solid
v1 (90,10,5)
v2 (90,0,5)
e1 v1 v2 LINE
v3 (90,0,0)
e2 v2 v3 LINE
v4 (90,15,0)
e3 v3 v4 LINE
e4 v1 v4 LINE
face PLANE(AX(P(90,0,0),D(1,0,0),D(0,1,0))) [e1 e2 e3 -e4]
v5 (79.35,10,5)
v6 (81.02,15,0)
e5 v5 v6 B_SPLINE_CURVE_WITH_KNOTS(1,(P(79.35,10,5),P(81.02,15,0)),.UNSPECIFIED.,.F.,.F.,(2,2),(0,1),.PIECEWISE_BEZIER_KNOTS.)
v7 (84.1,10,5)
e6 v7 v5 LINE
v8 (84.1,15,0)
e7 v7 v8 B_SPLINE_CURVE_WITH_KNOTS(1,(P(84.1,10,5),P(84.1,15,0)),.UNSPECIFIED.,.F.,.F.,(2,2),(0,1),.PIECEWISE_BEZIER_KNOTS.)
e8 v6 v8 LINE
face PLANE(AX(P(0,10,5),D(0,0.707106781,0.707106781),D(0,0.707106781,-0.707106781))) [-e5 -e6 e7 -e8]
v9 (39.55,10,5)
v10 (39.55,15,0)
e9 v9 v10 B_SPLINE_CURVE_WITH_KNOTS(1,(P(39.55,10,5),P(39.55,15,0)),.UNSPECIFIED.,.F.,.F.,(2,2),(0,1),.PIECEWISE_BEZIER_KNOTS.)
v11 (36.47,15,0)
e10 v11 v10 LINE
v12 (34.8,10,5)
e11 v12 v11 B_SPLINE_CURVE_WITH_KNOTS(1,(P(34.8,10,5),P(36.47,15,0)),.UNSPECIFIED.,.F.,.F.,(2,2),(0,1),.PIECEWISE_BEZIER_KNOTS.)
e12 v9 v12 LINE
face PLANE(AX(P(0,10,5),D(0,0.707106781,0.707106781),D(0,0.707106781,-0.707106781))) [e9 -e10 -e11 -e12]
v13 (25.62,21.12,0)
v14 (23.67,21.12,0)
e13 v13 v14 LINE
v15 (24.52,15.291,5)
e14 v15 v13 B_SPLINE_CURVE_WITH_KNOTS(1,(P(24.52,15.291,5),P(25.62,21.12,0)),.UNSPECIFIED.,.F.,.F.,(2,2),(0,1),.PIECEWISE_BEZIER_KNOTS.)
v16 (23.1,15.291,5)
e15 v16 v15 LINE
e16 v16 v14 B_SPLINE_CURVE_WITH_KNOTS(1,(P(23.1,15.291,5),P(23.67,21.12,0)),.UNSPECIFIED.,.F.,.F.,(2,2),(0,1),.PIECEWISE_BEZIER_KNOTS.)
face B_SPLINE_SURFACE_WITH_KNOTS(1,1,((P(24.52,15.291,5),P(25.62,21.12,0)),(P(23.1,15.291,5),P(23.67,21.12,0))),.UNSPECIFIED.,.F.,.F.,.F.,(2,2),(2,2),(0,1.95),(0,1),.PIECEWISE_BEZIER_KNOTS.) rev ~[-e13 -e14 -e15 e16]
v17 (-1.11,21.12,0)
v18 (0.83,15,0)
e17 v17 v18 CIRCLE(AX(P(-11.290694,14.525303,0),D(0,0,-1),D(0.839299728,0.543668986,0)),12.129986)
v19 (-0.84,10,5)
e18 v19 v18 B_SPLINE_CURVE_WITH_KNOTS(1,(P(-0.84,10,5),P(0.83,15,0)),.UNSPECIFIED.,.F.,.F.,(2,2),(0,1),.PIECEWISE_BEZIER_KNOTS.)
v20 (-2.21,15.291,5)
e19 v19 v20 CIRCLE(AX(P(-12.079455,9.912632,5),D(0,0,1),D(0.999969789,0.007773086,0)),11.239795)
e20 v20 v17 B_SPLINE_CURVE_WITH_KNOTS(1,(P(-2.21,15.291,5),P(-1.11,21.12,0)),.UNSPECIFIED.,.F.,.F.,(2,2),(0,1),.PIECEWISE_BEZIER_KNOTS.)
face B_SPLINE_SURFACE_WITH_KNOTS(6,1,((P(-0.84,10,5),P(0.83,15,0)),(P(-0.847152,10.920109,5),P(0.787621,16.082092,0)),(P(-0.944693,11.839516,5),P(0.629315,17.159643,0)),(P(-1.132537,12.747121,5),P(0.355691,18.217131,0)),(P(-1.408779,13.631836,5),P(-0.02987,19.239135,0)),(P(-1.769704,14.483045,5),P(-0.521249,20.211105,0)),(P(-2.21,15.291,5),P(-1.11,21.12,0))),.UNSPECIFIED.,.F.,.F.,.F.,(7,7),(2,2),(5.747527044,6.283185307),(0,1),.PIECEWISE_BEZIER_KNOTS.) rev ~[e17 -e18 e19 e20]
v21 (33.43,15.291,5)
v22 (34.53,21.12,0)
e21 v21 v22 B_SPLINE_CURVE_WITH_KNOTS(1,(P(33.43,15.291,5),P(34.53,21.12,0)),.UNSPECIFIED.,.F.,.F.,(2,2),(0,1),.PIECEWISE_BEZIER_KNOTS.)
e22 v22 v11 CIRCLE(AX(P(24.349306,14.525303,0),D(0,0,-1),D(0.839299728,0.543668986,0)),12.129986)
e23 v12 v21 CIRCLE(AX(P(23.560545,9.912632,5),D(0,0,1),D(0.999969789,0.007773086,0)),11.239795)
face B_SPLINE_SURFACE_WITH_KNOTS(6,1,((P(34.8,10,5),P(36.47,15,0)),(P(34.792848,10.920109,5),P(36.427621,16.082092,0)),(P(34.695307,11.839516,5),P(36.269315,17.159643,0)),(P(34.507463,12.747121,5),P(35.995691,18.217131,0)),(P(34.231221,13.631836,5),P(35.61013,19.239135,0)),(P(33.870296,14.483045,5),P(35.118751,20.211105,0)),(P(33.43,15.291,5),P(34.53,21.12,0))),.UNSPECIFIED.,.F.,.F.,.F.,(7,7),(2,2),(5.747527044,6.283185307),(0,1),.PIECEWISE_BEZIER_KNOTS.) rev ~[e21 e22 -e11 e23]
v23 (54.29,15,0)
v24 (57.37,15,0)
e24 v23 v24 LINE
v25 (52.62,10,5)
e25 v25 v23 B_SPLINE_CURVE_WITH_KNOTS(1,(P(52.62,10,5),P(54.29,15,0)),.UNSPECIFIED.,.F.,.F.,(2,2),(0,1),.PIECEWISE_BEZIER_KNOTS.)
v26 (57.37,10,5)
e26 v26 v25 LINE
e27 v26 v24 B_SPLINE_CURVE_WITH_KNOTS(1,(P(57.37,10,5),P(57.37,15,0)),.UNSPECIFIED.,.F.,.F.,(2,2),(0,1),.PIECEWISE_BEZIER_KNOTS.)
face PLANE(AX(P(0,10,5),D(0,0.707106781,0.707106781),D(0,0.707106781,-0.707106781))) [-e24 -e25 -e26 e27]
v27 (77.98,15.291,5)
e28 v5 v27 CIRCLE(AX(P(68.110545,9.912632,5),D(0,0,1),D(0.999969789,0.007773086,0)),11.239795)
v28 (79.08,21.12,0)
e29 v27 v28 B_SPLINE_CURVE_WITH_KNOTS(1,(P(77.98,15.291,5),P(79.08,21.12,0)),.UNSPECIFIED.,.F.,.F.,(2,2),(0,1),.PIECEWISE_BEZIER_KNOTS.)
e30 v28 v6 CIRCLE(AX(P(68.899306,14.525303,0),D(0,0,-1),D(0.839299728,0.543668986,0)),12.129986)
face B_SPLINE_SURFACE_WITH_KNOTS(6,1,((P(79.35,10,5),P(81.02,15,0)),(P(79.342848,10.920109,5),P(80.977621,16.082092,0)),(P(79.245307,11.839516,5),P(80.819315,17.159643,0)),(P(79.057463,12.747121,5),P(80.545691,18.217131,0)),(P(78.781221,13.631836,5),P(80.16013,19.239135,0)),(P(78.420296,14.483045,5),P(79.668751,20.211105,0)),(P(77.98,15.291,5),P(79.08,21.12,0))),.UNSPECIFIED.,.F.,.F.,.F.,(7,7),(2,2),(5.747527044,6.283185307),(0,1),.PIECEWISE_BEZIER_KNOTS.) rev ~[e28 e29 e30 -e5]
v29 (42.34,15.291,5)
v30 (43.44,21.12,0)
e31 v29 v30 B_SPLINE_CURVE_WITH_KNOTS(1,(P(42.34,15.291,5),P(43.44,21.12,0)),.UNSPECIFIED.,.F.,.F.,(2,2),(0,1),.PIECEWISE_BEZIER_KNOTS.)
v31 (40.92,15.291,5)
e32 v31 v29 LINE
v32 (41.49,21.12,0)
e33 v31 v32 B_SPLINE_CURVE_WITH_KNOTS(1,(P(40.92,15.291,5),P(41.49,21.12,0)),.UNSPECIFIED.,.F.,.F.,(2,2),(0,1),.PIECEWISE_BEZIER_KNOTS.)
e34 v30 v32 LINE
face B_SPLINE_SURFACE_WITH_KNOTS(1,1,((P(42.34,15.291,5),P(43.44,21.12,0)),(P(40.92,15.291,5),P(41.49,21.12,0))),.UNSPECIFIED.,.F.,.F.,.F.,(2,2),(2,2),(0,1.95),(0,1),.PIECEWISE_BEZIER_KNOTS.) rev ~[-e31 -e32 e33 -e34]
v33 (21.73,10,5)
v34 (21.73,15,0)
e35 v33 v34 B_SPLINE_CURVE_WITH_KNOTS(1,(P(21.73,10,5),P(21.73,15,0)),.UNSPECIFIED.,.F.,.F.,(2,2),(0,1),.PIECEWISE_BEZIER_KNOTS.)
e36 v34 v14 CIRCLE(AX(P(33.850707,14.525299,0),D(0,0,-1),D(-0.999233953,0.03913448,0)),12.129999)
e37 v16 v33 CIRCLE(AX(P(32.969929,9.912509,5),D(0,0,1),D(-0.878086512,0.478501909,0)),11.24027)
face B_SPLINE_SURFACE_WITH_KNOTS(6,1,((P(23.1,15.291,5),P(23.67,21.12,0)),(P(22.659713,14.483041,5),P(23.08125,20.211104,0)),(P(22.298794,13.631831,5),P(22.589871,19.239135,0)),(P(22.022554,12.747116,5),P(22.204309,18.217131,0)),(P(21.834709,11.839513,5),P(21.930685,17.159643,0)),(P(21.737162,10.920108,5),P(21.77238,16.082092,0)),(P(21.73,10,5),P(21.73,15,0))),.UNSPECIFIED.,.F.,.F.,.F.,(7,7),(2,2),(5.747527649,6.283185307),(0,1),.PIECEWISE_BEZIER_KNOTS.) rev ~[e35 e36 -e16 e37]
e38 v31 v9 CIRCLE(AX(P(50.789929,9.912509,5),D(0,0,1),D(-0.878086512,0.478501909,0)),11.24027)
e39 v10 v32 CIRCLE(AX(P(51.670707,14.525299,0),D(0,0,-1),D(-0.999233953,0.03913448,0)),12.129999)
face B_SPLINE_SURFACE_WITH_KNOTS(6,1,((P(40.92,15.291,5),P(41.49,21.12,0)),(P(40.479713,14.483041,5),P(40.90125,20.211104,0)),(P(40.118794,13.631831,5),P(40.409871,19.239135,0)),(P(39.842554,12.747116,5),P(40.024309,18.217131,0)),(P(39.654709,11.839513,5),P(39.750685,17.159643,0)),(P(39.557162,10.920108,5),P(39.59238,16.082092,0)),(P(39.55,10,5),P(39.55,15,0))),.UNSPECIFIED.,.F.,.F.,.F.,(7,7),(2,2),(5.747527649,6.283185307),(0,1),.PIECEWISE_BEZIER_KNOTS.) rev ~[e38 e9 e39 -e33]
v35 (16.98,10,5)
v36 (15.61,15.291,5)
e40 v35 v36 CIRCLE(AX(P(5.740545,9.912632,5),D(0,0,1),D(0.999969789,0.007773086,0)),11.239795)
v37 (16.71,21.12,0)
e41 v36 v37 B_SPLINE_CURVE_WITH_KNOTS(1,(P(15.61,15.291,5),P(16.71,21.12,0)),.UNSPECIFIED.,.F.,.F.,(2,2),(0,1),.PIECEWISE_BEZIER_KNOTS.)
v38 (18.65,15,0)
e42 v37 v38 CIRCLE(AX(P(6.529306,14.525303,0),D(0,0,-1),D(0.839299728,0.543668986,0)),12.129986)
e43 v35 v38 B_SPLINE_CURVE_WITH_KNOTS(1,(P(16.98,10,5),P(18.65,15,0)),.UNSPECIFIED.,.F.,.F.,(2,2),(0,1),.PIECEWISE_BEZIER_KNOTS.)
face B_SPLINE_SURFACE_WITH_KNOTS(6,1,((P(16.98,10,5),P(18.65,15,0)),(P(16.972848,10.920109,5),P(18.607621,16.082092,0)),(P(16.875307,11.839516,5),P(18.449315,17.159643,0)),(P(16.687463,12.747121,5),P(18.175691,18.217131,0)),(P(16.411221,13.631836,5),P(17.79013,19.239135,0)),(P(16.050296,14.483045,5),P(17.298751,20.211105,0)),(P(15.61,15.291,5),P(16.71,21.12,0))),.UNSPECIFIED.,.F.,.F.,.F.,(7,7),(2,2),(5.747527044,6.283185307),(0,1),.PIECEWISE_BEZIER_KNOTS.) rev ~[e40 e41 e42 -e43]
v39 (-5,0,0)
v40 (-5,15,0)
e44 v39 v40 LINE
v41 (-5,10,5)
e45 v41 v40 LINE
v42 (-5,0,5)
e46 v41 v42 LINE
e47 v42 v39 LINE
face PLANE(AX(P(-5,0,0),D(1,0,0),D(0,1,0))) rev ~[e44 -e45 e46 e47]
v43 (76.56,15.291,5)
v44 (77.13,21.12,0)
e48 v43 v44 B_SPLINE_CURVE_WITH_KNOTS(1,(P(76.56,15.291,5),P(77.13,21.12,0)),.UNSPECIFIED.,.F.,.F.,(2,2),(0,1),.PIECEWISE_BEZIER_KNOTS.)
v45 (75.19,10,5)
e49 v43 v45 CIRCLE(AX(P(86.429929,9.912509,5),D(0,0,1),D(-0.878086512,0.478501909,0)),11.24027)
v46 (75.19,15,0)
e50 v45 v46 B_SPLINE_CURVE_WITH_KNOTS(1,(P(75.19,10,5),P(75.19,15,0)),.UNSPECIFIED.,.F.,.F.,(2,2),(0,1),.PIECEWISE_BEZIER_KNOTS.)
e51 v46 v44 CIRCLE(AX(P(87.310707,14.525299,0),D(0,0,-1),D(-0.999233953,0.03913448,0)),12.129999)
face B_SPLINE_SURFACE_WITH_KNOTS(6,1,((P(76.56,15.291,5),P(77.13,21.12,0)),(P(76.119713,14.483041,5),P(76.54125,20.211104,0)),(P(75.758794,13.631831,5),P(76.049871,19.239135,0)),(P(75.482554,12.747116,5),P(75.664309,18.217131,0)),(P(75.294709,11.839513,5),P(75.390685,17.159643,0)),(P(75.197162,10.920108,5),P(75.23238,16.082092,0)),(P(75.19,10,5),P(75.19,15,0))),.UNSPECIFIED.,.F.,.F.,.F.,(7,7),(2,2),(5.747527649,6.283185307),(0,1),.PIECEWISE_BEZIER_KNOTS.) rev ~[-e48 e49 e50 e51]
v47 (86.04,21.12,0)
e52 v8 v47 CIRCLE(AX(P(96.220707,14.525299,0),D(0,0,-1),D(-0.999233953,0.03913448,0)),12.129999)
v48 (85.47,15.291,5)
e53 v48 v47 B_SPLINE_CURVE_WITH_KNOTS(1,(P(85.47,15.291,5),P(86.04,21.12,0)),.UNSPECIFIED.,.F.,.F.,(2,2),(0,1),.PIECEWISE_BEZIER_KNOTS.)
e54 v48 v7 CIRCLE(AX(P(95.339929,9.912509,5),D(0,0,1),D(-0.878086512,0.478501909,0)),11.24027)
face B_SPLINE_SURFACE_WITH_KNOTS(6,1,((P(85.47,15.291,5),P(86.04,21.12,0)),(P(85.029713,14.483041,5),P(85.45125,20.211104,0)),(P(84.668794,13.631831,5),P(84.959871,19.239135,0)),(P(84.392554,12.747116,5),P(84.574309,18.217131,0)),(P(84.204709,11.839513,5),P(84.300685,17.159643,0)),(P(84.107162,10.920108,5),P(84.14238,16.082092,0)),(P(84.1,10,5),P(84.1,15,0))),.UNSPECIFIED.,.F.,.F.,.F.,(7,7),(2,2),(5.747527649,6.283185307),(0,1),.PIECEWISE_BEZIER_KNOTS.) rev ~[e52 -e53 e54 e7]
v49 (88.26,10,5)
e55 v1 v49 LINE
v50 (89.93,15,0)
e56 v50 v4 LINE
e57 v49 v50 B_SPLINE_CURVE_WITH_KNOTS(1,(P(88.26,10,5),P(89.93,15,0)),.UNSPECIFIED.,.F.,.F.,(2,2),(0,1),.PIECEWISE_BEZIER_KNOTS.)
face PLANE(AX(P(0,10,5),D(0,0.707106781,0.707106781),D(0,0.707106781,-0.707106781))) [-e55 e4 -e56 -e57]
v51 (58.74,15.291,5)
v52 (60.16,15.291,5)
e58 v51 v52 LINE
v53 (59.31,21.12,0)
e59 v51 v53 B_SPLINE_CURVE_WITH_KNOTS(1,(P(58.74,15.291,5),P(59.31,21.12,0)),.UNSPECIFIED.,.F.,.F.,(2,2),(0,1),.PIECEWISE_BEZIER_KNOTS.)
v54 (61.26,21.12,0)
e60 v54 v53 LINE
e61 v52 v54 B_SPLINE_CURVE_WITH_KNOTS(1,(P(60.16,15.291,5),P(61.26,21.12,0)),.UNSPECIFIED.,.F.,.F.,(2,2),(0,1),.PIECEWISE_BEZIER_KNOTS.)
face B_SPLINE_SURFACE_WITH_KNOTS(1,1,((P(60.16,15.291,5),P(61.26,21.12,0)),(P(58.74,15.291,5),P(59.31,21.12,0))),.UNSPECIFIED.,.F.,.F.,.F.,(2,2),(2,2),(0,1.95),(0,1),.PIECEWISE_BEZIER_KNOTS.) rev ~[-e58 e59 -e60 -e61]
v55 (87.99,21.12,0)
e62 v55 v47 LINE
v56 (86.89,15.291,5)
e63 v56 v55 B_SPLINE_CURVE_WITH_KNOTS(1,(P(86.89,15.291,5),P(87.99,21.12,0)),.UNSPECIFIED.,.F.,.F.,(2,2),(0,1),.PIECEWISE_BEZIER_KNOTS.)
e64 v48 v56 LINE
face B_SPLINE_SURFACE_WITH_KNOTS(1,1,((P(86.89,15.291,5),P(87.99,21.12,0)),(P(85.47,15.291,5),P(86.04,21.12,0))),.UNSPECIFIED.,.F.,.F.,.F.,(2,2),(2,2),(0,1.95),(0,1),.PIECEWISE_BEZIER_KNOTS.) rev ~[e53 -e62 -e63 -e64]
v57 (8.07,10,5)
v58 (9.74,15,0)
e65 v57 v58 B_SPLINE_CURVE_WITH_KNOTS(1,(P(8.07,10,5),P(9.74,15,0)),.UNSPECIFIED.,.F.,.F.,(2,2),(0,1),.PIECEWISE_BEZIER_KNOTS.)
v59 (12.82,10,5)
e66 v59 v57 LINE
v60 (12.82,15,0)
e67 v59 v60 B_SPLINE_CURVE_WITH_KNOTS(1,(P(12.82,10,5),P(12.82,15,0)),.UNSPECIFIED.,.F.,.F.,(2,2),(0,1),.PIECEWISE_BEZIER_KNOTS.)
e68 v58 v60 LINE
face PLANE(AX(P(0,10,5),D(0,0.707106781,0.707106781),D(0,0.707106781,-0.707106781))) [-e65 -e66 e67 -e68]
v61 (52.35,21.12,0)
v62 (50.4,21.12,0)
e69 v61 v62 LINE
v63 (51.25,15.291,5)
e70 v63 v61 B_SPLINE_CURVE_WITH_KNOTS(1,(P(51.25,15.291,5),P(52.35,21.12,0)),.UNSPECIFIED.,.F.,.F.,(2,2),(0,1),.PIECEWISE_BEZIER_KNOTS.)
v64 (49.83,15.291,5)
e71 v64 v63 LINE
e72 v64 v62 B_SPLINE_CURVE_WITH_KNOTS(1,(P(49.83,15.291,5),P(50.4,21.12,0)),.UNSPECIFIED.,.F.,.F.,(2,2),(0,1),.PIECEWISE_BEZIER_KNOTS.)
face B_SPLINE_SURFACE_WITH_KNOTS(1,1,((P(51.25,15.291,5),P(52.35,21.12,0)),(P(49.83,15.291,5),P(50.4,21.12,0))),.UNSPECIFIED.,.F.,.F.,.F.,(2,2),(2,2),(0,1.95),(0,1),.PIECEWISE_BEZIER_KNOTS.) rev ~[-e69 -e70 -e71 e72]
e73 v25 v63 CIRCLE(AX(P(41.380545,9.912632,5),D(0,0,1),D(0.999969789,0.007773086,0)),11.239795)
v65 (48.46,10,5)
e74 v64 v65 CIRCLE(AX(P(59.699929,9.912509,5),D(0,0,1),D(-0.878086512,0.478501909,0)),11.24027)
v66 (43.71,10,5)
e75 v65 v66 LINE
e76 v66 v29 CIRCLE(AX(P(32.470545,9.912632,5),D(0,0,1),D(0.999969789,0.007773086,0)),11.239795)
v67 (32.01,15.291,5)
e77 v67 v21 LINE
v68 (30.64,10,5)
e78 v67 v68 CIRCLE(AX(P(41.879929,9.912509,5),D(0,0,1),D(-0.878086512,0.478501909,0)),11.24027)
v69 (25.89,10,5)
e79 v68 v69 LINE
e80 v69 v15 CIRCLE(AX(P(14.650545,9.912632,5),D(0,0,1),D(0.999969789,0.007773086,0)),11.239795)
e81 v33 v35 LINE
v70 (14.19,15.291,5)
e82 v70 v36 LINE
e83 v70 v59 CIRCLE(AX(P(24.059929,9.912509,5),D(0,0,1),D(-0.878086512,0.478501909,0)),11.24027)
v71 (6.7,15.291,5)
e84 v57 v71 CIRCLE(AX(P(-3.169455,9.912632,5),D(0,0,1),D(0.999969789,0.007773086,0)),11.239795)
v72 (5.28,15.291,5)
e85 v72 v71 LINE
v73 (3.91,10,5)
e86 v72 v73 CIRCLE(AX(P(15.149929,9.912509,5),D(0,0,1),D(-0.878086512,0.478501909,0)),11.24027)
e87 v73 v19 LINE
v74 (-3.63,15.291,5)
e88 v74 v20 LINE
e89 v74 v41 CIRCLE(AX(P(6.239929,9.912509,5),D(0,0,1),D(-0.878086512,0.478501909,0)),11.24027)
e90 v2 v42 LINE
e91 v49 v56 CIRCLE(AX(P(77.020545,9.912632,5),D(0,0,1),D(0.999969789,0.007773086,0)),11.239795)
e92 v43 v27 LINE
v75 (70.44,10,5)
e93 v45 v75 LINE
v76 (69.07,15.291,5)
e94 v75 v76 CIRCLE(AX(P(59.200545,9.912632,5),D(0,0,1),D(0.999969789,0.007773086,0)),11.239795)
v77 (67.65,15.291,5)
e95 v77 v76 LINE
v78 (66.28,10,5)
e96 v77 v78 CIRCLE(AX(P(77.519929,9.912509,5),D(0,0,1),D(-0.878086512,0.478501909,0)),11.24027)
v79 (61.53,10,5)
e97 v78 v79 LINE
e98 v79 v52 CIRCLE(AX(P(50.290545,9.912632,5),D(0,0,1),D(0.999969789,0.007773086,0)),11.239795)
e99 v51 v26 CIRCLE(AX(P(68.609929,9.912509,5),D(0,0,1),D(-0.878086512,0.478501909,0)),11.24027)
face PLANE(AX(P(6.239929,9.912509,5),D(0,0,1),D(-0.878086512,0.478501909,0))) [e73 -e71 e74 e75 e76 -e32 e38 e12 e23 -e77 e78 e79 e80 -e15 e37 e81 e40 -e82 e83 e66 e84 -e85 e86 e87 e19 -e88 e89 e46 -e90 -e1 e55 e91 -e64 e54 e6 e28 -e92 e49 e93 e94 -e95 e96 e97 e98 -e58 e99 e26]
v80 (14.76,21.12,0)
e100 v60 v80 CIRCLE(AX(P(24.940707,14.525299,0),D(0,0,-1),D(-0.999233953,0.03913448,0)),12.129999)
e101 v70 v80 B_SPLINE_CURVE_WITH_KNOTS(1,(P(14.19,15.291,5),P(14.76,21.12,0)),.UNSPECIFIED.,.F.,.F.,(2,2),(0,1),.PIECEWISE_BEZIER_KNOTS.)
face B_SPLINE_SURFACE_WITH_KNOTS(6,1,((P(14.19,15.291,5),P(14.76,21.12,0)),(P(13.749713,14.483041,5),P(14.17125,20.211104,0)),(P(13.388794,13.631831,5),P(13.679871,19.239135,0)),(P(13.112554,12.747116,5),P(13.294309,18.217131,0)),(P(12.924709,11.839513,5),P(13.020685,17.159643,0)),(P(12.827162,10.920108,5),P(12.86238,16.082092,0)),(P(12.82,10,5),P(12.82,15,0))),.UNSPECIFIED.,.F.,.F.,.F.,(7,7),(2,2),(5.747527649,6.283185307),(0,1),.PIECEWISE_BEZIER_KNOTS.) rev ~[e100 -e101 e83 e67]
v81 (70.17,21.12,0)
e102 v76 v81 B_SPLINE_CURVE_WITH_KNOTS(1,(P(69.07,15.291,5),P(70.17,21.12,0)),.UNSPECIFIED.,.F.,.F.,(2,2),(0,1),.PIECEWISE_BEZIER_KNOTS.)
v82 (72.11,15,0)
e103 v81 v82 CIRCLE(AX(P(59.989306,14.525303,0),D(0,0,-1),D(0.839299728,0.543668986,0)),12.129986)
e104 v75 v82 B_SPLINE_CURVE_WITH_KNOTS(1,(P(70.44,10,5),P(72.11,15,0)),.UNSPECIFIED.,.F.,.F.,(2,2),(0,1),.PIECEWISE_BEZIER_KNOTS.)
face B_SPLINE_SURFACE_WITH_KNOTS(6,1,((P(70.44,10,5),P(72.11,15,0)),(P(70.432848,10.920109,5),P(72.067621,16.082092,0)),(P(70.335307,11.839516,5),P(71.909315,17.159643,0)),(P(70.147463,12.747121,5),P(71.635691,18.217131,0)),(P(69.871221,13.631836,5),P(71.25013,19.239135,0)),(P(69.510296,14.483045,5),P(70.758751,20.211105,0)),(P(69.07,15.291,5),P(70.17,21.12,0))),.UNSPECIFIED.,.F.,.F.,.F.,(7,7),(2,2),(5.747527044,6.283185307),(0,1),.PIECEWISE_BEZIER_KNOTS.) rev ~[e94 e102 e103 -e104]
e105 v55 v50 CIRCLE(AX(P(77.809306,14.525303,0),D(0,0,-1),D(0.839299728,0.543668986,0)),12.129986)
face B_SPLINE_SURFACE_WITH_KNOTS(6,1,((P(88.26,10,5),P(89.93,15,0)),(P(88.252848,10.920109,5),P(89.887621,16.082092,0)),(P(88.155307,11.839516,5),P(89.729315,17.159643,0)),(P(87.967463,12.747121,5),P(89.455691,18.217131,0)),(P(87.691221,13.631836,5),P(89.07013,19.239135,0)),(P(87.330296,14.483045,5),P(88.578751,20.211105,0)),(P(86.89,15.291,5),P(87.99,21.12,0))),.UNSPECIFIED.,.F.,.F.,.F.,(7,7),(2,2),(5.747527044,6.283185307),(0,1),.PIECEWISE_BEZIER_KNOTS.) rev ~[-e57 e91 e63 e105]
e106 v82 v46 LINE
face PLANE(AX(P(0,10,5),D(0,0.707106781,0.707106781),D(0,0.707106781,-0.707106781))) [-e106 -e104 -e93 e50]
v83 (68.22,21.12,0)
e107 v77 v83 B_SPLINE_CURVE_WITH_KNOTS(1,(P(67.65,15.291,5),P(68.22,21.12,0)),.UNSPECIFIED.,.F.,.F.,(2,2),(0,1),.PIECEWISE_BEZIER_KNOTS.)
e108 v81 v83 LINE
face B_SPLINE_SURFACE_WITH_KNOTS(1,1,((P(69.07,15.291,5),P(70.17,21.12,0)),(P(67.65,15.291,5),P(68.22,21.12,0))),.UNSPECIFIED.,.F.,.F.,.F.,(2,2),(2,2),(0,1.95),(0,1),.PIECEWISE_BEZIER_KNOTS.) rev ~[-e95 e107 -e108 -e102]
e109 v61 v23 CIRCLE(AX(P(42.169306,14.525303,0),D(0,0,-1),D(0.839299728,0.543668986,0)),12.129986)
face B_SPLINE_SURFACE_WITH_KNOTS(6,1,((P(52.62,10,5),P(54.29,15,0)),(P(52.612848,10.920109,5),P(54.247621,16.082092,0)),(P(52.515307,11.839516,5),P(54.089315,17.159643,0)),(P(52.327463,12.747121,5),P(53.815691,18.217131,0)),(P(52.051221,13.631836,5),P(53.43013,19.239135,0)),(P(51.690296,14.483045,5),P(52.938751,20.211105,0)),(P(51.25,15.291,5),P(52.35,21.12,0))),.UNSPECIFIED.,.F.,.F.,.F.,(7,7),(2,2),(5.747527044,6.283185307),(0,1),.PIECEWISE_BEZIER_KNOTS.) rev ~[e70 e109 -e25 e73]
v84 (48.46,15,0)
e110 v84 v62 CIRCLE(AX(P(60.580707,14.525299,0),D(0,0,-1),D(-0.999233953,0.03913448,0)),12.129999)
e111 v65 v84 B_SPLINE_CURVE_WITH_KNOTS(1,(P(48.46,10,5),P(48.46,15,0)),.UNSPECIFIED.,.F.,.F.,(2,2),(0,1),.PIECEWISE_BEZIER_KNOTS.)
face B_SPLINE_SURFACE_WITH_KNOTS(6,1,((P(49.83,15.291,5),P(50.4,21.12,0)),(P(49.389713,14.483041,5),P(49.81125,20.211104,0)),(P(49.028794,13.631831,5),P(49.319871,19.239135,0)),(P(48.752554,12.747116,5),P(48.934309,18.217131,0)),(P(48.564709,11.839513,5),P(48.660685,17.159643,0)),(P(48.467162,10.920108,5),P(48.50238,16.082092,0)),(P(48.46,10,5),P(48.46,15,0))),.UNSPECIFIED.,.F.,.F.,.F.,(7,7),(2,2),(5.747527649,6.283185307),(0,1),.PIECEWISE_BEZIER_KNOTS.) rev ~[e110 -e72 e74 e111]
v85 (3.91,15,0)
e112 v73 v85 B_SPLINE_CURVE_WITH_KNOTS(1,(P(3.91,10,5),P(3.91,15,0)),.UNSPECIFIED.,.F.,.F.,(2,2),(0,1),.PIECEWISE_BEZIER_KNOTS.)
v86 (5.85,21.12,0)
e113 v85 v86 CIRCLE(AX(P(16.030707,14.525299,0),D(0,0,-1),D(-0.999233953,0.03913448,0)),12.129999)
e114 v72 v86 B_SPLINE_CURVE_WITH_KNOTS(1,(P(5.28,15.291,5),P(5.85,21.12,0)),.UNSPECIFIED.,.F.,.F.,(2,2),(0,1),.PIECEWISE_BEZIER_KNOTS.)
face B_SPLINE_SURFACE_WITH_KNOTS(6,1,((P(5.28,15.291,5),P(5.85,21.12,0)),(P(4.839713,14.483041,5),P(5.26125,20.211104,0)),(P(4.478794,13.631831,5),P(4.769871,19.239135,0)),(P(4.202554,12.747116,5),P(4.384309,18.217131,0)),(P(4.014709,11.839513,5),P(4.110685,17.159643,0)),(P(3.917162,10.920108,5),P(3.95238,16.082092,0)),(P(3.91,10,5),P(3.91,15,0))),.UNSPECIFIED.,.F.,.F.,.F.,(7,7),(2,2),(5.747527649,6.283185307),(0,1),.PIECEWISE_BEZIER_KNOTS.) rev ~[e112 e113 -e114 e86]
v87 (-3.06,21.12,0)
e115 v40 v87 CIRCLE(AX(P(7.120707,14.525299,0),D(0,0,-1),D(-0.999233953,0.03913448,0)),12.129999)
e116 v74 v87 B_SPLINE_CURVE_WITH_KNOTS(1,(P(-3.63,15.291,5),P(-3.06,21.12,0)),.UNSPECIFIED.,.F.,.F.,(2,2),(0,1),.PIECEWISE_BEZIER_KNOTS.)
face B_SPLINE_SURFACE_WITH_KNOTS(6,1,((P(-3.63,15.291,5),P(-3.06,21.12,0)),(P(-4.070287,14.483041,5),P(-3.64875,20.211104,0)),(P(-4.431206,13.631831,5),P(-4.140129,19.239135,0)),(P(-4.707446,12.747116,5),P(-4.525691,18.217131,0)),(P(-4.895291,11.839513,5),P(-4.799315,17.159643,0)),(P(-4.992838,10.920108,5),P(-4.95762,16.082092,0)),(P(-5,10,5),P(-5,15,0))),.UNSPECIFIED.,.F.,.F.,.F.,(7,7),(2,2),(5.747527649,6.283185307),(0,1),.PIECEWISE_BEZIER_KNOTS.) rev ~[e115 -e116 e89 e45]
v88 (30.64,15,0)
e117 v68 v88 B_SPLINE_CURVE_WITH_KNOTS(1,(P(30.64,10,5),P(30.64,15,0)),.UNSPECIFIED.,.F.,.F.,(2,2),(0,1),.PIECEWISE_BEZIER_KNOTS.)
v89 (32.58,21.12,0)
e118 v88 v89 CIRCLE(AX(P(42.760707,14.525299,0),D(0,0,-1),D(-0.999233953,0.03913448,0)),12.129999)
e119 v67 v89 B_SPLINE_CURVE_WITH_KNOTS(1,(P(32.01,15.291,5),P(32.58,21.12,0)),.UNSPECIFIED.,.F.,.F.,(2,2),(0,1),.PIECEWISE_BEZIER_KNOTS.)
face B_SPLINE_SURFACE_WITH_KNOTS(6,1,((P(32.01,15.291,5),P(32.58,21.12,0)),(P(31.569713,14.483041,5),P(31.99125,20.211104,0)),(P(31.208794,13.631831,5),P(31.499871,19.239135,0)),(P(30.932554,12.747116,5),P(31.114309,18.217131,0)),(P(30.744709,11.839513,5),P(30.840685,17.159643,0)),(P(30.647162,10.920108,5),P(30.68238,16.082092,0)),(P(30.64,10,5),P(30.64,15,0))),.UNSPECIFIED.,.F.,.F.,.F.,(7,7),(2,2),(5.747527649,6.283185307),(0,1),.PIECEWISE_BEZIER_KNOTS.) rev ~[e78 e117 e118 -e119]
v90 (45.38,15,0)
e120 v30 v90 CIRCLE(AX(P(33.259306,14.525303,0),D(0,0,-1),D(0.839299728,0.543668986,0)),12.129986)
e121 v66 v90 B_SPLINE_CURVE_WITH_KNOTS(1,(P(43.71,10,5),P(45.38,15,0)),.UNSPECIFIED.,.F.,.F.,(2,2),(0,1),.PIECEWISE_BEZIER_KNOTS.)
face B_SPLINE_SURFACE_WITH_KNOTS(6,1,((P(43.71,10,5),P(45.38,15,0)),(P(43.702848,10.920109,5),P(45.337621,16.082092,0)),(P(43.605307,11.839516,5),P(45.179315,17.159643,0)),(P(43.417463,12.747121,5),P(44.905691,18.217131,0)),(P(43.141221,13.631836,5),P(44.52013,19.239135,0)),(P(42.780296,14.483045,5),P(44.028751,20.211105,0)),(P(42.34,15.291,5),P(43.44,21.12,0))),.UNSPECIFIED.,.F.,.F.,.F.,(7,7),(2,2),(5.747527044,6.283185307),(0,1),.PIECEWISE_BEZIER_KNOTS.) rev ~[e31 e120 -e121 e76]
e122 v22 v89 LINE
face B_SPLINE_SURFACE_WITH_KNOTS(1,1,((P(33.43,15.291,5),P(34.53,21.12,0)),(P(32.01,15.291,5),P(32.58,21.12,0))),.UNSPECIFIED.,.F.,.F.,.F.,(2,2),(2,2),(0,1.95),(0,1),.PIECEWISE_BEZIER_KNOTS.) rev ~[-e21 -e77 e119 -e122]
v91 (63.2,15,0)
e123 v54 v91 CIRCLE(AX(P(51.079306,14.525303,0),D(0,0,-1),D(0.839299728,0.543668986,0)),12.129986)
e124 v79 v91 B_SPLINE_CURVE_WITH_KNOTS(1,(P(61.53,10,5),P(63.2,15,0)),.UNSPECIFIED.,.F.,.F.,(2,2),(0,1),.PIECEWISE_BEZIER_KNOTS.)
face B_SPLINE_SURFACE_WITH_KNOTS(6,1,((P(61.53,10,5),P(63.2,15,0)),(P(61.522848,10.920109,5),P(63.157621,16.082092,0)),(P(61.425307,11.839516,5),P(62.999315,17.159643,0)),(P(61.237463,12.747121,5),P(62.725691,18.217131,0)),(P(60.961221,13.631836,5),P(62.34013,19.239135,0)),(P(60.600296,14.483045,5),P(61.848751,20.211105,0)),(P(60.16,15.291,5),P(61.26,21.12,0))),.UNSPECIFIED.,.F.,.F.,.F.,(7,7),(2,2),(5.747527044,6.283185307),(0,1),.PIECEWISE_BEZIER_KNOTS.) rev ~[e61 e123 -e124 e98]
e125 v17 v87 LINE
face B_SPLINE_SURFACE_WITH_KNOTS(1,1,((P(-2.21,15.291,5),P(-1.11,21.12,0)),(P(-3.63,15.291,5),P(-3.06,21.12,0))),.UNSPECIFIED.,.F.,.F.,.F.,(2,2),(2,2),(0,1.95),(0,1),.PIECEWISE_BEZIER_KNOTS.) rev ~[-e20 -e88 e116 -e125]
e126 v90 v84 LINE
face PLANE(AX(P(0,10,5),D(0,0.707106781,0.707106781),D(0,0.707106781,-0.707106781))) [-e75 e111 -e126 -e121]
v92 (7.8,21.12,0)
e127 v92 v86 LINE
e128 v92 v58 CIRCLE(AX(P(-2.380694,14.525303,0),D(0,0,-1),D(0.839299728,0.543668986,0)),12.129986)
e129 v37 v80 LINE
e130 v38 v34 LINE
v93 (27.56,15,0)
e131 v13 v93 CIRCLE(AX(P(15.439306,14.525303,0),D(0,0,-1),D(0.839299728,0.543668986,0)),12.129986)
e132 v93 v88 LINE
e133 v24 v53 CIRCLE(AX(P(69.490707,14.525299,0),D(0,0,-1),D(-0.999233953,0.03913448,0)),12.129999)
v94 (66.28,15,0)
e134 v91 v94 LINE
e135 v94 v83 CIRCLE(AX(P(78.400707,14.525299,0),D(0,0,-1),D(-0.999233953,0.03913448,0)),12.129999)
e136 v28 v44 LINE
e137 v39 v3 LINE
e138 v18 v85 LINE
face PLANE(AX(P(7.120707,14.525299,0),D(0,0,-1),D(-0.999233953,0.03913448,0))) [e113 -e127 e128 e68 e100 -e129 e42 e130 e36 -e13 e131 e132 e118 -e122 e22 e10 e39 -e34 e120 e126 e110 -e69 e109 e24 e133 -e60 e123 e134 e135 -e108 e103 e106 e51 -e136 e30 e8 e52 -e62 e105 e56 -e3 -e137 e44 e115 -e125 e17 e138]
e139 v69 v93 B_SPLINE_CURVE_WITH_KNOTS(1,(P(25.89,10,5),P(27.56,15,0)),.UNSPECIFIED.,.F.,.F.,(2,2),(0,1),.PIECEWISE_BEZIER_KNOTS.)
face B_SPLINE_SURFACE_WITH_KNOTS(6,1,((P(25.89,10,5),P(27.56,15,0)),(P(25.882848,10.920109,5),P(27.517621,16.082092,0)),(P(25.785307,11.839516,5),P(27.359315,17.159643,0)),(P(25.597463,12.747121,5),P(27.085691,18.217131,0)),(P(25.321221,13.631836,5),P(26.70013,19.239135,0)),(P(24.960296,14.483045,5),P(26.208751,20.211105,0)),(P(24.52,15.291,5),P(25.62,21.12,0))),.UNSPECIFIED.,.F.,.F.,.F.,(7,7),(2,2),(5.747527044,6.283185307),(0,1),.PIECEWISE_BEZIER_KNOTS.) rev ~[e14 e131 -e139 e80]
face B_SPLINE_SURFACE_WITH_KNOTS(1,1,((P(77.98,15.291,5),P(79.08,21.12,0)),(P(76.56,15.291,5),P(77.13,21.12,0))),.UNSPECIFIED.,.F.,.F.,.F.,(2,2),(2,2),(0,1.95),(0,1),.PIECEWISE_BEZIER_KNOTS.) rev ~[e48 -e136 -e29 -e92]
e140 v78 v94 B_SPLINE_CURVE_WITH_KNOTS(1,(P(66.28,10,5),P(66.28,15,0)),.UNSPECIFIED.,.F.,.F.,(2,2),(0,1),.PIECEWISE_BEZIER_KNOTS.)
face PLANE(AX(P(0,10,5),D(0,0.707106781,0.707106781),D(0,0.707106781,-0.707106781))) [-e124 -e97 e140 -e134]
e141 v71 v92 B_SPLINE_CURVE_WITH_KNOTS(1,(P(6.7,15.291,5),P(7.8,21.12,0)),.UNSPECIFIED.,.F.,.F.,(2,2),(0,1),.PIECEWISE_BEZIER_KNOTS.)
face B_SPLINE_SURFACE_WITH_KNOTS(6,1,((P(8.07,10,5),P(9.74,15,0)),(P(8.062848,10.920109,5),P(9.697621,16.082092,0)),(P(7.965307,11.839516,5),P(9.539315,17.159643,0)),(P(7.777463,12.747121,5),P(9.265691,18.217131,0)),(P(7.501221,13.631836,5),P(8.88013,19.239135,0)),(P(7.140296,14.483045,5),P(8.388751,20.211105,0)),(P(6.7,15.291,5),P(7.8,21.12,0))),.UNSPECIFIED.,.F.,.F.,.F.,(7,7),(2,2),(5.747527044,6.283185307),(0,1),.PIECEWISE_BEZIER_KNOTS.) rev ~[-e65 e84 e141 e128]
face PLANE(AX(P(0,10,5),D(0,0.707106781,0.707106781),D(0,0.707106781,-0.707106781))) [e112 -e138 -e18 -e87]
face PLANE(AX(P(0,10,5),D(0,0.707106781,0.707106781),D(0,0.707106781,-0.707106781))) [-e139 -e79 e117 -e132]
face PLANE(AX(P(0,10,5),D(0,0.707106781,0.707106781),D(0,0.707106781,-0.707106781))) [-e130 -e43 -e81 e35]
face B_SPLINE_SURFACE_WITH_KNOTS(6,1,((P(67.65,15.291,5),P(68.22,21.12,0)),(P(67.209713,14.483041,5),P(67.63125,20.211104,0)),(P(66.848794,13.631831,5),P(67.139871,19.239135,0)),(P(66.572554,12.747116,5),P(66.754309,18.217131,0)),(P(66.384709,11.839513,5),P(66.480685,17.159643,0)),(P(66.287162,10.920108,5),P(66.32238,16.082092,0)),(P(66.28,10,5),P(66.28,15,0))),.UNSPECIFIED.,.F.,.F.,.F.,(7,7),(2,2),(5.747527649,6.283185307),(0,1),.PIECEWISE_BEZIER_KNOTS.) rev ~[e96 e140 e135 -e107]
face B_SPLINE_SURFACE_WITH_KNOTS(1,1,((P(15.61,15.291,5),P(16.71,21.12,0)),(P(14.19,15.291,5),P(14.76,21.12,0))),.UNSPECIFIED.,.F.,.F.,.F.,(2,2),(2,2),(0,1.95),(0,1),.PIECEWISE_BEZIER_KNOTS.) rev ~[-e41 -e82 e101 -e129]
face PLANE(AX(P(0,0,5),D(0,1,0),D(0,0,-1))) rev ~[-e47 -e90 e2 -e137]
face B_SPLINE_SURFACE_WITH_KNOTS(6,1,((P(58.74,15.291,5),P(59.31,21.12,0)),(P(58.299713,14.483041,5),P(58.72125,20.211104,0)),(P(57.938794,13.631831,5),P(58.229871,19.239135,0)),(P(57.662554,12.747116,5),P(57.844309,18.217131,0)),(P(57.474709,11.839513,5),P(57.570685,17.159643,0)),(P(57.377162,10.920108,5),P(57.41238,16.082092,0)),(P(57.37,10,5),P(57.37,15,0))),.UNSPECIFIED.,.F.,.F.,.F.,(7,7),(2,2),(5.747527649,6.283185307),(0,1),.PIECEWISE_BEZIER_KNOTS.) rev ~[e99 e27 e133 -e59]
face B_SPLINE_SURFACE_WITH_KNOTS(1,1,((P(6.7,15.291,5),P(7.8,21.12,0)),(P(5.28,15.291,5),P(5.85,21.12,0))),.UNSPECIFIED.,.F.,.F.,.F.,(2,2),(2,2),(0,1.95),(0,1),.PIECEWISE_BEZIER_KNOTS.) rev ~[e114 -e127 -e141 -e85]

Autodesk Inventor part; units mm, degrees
ref_plane "YZ Plane" through (0, 0, 0) normal (1, 0, 0) x (0, 1, 0)
ref_plane "XZ Plane" through (0, 0, 0) normal (0, 1, 0) x (-1, 0, 0)
ref_plane "XY Plane" through (0, 0, 0) normal (0, 0, 1) x (1, 0, 0)
sketch "Sketch1" plane through (0, 0, 0) normal (1, 0, 0) x (0, 1, 0)
  line L0 (0, 0) -> (15, 0)
  line L1 (15, 0) -> (15, 5)
  line L2 (15, 5) -> (0, 5)
  line L3 (0, 5) -> (0, 0)
  line L4 (10, 5) -> (15, 0)
  dimension "d0" = 15
  dimension "d1" = 5
  dimension "d2" = 5
extrude "Extrusion1" add sketch "Sketch1" along normal blind 90 and the other way blind 5 contours L3 L2 L4 L0
sketch "Sketch2" plane through (-5, 0, 5) normal (0, 0, 1) x (1, 0, 0)
  arc A0 (0, 10) -> (0, -10) centre (0, 0) ccw construction
  arc A1 (-9.7813, 2.08) -> (-9.7813, -2.08) centre (0, 0) ccw construction
  arc A2 (-15.2728, 0.745) -> (-15.2761, -0.675) centre (0, 0) ccw construction
  arc A3 (-15.2761, -0.675) -> (-9.7813, -2.08) centre (-9.8343, 9.1599) ccw construction
  arc A4 (-9.7813, 2.08) -> (-15.2728, 0.745) centre (-9.9572, -9.1586) ccw construction
  line L0 (0, 10) -> (4.16, 10)
  line L1 (0, 10) -> (95, 10) projected
  line L2 (1.37, 15.291) -> (2.79, 15.291)
  arc A5 (1.37, 15.291) -> (0, 10) centre (11.2397, 9.9126) ccw
  arc A6 (4.16, 10) -> (2.79, 15.291) centre (-7.0797, 9.9126) ccw
  point P0 (5, 0)
  point P1 (2.08, 10)
  dimension "d7" = 4.16
  dimension "d8" = 2.08
  dimension "d9" = 0.745
  dimension "d10" = 1.42
  dimension "d12" = 11.24
  dimension "d13" = 11.24
  dimension "d14" = 5.291
  dimension "d15" = 4.16
  dimension "d16" = 4.16
  dimension "d17" = 1.42
  dimension "d18" = 0.71
  dimension "d19" = 5.291
  dimension "d20" = 11.24
  dimension "d21" = 11.24
sketch "Sketch3" plane through (90, 15, 0) normal (0, 0, -1) x (-1, 0, 0)
  arc A0 (0, 1.075) -> (0, -1.075) centre (0, 0) ccw
  arc A1 (-14.714, 2.915) -> (-14.714, -2.915) centre (0, 0) ccw
  arc A2 (-21.0975, 0.975) -> (-21.0975, -0.975) centre (0, 0) ccw
  arc A3 (-21.0975, -0.975) -> (-14.714, -2.915) centre (-14.5146, 9.2134) ccw
  arc A4 (-14.714, 2.915) -> (-21.0975, 0.975) centre (-14.5146, -9.2134) ccw
  arc A5 (0, 1.075) -> (0, -1.075) centre (0, 0) ccw
  arc A6 (-14.714, 2.915) -> (-14.714, -2.915) centre (0, 0) ccw
  arc A7 (-21.0975, 0.975) -> (-21.0975, -0.975) centre (0, 0) ccw
  arc A8 (-21.0975, -0.975) -> (-14.714, -2.915) centre (-14.5146, 9.2134) ccw
  arc A9 (-14.714, 2.915) -> (-21.0975, 0.975) centre (-14.5146, -9.2134) ccw
  line L0 (0, 0) -> (95, 0) projected
  line L1 (95, 0) -> (89.17, 0)
  line L2 (91.11, 6.12) -> (93.06, 6.12)
  arc A10 (91.11, 6.12) -> (89.17, 0) centre (101.2907, -0.4747) ccw
  arc A11 (95, 0) -> (93.06, 6.12) centre (82.8793, -0.4747) ccw
  point P0 (90, -15)
  point P1 (0, -15)
  point P2 (0, -15)
  point P3 (92.085, 0)
  dimension "d22" = 2.915
  dimension "d23" = 5.83
  dimension "d24" = 0.975
  dimension "d25" = 1.95
  dimension "d26" = 21.12
  dimension "d27" = 12.13
  dimension "d28" = 12.13
  dimension "d29" = 2.915
  dimension "d30" = 5.83
  dimension "d31" = 0.975
  dimension "d32" = 1.95
  dimension "d33" = 21.12
  dimension "d34" = 12.13
  dimension "d35" = 12.13
  dimension "d36" = 5.83
  dimension "d37" = 5.83
  dimension "d38" = 1.95
  dimension "d39" = 0.975
  dimension "d40" = 6.12
  dimension "d41" = 6.12
  dimension "d42" = 12.13
  dimension "d43" = 12.13
loft "Loft1" add profiles "Sketch2", "Sketch3" contours all / A10 L2 A11 L0
pattern_linear "Rectangular Pattern1" count 11 spacing 8.91 along (1, 0, 0) of "Loft1"
properties part number "lockPin"
